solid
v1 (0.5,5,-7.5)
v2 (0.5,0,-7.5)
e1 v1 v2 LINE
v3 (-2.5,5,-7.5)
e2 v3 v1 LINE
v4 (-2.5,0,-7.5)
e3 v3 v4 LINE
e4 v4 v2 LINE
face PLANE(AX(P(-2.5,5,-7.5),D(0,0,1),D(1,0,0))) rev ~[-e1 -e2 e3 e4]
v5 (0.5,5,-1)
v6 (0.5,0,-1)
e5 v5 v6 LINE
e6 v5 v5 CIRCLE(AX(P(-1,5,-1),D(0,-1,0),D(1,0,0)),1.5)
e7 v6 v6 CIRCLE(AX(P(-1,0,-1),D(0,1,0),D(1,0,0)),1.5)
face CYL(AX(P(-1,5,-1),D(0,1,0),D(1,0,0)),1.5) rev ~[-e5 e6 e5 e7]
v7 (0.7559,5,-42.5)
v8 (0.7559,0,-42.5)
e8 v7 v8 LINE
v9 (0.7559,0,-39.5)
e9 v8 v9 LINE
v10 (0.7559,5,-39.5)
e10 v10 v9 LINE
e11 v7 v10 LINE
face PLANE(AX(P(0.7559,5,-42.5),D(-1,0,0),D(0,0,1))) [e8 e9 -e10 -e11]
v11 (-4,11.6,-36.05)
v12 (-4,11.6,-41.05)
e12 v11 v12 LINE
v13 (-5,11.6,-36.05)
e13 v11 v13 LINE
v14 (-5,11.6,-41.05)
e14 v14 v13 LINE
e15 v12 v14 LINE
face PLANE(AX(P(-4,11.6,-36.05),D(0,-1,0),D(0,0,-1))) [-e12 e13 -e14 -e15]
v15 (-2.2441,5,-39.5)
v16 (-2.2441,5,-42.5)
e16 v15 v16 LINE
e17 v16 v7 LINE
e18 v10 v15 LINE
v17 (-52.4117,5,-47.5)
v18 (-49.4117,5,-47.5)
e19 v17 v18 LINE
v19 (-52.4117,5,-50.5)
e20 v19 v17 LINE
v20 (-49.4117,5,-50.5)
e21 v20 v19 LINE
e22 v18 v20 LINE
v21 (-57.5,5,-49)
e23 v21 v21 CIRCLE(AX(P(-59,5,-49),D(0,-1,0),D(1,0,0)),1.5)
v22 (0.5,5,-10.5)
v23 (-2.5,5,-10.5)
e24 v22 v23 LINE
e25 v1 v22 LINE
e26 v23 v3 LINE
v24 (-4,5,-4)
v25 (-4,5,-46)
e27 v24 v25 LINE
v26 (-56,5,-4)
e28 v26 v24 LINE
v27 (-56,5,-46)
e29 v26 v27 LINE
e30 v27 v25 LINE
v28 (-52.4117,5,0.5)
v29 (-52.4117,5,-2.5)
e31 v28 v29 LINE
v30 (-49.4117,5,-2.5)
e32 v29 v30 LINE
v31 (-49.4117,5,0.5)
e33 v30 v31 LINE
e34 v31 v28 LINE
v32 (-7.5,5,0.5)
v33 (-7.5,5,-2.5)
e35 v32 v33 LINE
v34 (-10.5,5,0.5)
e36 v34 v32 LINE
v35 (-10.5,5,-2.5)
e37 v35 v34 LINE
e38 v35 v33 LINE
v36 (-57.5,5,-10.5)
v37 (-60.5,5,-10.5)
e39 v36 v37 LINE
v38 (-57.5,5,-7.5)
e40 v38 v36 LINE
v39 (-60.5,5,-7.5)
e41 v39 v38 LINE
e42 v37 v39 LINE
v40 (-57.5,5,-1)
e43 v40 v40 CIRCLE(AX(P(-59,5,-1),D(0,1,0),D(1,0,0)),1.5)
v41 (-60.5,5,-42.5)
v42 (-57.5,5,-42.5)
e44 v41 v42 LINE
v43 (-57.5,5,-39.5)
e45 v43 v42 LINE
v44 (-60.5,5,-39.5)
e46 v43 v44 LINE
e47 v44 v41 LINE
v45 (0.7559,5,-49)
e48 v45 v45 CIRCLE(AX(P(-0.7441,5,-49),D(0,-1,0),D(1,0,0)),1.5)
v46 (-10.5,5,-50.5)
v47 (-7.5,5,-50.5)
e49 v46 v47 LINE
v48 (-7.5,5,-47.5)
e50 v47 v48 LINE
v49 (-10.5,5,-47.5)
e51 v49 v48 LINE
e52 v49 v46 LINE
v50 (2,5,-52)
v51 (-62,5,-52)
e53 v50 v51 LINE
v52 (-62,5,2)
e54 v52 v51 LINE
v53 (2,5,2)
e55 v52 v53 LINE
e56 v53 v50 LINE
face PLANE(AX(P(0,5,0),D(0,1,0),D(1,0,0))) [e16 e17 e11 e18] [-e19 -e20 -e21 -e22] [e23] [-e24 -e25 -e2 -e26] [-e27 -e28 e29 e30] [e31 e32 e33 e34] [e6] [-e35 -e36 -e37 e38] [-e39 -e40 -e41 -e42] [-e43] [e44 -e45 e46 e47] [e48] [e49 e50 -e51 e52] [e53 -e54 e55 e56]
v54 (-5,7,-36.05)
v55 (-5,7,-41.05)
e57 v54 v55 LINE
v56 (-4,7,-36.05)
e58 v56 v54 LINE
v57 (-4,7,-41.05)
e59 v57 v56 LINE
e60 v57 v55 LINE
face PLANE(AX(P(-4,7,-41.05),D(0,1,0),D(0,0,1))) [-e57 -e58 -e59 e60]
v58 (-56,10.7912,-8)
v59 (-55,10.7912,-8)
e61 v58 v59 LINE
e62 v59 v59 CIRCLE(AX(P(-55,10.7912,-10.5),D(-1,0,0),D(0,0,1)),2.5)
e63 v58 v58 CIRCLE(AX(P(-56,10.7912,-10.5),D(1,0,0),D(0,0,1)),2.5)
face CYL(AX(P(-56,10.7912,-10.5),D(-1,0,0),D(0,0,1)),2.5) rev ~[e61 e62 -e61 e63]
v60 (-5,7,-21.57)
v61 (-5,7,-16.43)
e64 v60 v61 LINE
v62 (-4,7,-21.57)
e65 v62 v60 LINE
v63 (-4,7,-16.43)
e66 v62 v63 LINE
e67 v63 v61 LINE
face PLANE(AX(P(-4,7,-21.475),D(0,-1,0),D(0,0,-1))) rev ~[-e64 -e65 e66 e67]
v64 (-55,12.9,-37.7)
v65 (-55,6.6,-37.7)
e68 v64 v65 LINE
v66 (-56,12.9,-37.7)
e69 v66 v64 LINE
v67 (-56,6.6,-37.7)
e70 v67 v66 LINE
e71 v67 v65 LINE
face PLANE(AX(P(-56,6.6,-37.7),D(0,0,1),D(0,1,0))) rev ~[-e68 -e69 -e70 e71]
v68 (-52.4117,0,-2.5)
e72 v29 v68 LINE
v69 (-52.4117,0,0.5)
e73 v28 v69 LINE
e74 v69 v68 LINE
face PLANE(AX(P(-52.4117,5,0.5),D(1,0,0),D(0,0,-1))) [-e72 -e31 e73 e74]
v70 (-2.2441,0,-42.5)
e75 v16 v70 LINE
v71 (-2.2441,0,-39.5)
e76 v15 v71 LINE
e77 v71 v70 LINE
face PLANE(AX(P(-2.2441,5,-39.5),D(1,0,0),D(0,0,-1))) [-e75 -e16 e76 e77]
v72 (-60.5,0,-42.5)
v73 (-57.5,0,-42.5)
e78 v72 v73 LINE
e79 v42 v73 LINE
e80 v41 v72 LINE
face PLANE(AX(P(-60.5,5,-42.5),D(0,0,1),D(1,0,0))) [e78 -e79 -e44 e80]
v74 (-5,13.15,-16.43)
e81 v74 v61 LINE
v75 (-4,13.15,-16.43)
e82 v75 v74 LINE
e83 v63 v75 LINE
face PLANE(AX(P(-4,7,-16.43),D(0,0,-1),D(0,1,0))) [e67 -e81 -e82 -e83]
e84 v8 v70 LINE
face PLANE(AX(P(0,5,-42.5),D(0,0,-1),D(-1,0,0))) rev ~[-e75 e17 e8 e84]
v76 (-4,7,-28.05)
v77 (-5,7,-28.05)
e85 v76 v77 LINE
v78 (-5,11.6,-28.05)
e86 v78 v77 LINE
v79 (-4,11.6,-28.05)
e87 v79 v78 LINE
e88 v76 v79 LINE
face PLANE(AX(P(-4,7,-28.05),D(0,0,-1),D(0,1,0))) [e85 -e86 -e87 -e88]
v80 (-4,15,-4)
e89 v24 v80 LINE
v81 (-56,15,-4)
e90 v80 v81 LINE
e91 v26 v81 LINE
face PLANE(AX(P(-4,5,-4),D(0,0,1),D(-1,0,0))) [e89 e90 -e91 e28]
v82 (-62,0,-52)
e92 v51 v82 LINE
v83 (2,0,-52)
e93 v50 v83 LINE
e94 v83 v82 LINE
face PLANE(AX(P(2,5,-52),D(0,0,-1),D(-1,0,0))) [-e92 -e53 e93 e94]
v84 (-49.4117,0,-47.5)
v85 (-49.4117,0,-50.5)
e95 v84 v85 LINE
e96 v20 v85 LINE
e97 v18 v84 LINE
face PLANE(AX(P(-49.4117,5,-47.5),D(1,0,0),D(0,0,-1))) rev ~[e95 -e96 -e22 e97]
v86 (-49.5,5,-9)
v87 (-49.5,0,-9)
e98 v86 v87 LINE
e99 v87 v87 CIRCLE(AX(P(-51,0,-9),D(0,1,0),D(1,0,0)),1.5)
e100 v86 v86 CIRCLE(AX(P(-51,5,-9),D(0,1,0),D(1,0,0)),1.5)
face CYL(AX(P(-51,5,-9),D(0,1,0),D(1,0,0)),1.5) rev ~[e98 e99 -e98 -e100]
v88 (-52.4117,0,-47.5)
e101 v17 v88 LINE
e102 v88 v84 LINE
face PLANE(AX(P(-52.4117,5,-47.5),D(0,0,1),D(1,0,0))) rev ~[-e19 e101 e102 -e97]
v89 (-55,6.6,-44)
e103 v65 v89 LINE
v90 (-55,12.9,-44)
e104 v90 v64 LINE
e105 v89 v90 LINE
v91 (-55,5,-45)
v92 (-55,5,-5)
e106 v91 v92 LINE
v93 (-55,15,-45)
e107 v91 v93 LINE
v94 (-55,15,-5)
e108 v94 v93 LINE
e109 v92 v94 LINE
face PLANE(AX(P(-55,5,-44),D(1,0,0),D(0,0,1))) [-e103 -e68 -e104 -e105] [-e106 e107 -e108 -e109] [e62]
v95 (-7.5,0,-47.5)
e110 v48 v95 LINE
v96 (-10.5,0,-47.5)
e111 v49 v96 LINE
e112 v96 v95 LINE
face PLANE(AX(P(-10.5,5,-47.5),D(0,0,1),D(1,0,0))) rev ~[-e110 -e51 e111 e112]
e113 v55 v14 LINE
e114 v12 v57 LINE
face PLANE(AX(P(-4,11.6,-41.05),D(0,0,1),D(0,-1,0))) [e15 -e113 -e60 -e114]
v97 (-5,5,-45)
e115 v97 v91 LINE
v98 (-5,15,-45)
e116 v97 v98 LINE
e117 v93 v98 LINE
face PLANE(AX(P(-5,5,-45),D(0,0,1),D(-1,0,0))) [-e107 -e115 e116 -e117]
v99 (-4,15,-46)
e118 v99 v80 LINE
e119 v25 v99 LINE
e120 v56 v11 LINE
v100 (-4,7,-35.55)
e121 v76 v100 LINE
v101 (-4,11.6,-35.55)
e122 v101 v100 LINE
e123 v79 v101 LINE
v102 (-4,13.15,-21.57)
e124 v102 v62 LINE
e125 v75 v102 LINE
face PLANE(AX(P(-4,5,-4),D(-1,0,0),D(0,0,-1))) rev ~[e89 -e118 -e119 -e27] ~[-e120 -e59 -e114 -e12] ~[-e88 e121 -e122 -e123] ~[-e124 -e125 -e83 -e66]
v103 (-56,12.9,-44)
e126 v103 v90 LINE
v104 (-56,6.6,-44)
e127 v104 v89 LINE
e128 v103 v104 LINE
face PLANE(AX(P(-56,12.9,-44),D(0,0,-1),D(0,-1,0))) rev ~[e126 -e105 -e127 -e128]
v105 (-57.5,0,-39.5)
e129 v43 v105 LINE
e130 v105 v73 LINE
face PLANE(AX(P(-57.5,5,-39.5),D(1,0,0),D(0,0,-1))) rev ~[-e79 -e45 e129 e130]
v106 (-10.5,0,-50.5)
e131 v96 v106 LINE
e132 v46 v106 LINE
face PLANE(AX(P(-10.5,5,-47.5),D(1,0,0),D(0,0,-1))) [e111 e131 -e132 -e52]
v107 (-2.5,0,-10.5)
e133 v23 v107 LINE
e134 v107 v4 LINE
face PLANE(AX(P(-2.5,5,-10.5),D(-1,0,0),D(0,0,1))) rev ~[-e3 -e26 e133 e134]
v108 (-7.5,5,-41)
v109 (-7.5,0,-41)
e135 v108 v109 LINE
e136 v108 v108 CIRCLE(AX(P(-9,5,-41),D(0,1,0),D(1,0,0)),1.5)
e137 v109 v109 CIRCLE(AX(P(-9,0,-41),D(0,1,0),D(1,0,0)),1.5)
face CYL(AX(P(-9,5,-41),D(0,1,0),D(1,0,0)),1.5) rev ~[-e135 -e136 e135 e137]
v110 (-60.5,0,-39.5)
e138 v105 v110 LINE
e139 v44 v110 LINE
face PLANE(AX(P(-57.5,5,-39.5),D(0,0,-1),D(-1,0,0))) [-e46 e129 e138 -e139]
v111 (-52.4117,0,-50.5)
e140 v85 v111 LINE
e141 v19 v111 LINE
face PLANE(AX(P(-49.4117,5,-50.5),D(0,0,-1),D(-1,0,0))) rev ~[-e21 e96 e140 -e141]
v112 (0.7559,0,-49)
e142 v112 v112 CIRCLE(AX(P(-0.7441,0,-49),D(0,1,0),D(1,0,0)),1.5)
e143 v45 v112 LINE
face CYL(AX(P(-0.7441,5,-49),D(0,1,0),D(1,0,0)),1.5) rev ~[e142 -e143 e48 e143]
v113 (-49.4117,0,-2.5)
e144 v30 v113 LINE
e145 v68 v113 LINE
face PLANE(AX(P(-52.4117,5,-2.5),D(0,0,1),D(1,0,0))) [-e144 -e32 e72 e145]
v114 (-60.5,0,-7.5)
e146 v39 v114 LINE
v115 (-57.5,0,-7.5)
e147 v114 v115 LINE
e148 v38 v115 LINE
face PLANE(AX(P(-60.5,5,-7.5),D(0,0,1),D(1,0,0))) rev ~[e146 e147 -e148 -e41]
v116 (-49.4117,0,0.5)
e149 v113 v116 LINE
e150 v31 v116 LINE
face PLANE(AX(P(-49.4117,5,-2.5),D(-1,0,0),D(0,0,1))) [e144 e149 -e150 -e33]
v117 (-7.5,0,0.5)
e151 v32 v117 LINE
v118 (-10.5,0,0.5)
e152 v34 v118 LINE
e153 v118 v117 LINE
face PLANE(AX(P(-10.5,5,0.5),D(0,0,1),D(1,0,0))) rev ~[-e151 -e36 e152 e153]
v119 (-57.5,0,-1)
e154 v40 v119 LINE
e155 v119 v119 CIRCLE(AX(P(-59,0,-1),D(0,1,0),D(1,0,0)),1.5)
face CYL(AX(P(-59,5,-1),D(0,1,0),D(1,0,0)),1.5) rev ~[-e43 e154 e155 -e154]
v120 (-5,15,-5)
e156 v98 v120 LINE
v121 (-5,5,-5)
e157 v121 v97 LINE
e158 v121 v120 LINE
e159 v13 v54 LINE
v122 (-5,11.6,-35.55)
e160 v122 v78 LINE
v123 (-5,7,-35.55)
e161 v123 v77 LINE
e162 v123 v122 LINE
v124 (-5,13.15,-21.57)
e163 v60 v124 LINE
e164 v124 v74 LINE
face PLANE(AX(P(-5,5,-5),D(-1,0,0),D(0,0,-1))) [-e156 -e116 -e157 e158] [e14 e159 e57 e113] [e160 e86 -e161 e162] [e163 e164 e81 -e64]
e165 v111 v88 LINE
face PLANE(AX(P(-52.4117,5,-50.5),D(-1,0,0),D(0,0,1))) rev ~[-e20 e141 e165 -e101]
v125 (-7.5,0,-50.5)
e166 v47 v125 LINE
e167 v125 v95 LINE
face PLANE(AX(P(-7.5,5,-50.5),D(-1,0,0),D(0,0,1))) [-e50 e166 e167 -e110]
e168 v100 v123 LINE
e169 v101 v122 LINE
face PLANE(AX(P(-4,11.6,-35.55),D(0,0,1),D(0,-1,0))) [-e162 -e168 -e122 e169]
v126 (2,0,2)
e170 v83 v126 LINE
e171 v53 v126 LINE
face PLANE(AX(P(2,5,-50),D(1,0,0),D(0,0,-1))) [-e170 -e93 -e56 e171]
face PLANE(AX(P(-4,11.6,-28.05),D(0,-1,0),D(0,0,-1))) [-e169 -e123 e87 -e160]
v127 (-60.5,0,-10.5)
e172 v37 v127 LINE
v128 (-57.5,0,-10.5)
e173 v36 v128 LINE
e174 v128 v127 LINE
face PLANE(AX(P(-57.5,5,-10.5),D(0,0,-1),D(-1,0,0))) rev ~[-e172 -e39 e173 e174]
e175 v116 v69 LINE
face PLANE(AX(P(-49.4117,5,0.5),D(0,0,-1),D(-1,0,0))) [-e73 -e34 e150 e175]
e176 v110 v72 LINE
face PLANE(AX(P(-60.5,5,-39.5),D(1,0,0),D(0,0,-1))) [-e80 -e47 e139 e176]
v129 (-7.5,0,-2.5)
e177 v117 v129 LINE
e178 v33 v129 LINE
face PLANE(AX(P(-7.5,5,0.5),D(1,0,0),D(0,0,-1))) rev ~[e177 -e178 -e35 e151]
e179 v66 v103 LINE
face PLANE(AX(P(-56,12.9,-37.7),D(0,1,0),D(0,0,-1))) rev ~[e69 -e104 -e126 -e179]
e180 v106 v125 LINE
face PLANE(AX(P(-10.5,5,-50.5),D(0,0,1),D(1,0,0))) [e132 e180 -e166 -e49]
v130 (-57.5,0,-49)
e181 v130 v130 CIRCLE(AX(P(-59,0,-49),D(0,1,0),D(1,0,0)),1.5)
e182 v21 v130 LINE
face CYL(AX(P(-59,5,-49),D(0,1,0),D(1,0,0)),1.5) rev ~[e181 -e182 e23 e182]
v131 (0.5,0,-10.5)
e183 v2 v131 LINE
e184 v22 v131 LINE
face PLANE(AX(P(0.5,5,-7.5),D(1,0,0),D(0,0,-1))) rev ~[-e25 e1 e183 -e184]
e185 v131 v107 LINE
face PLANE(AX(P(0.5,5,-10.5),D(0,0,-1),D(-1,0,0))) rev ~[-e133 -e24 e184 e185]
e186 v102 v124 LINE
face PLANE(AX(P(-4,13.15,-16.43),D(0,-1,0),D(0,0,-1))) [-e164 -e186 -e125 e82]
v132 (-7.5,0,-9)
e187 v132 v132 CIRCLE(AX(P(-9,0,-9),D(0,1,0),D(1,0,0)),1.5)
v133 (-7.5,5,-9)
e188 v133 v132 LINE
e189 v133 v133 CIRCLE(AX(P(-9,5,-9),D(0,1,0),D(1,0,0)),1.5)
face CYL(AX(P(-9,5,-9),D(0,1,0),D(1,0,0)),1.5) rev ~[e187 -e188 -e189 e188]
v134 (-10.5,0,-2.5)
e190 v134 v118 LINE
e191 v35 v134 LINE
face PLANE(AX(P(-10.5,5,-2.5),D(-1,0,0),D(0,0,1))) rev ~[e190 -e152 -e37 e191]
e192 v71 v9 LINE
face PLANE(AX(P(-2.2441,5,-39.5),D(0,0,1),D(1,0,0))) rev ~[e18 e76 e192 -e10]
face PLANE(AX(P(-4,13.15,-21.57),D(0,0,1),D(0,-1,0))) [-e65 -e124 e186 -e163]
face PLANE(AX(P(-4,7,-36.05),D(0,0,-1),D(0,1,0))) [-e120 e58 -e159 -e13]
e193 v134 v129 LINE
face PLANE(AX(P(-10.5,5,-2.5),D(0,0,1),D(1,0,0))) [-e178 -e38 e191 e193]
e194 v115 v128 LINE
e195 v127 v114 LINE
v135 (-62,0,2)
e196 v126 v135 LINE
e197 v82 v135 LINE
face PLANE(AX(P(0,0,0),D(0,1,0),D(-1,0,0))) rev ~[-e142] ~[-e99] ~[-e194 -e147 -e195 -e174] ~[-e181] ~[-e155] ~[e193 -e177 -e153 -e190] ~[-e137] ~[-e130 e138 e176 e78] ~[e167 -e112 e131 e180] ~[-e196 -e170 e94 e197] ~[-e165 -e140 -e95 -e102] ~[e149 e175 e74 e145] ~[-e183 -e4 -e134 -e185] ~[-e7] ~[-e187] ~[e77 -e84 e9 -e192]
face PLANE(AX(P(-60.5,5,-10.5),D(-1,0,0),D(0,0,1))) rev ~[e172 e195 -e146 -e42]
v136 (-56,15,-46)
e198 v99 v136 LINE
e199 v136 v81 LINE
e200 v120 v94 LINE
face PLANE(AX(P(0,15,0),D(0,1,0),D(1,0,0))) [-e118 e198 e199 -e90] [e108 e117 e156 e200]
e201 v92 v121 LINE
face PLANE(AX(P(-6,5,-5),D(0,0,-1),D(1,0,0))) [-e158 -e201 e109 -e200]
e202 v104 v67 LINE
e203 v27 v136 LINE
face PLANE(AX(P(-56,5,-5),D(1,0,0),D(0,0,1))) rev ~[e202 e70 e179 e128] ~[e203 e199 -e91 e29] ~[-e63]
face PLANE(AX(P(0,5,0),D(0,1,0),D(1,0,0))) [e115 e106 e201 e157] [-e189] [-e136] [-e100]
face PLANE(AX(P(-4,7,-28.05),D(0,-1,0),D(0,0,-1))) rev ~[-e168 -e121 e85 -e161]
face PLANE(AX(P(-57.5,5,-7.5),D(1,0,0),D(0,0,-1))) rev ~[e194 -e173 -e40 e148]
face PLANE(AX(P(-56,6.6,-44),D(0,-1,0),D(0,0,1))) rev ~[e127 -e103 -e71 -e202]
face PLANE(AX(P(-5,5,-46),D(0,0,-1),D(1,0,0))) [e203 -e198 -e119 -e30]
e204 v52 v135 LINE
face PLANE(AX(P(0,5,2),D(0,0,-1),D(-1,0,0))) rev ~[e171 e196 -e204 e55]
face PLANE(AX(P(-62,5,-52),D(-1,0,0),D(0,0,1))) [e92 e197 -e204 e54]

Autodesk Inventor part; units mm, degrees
ref_plane "YZ Plane" through (0, 0, 0) normal (1, 0, 0) x (0, 1, 0)
ref_plane "XZ Plane" through (0, 0, 0) normal (0, 1, 0) x (-1, 0, 0)
ref_plane "XY Plane" through (0, 0, 0) normal (0, 0, 1) x (1, 0, 0)
sketch "Sketch1" plane through (0, 0, 0) normal (0, 1, 0) x (-1, 0, 0)
  line L0 (0, 0) -> (60, 0)
  line L1 (60, 0) -> (60, -50)
  line L2 (60, -50) -> (0, -50)
  line L3 (0, -50) -> (0, 0)
  line L4 (60, 0) -> (0, 0)
  line L5 (0, 0) -> (0, -5)
  line L6 (0, -5) -> (60, -5)
  line L7 (60, -5) -> (60, 0)
  line L8 (60, 0) -> (55, 0)
  line L9 (55, 0) -> (55, -50)
  line L10 (55, -50) -> (60, -50)
  line L11 (60, -50) -> (60, 0)
  line L12 (60, -50) -> (0, -50)
  line L13 (0, -50) -> (0, -45)
  line L14 (0, -45) -> (60, -45)
  line L15 (60, -45) -> (60, -50)
  line L16 (0, -50) -> (5, -50)
  line L17 (5, -50) -> (5, 0)
  line L18 (5, 0) -> (0, 0)
  line L19 (0, 0) -> (0, -50)
  line L20 (5, -5) -> (55, -5)
  line L21 (55, -5) -> (55, -45)
  line L22 (55, -45) -> (5, -45)
  line L23 (5, -45) -> (5, -5)
  dimension "d0" = 60
  dimension "d1" = 50
  dimension "d2" = 5
  dimension "d3" = 5
  dimension "d4" = 5
  dimension "d5" = 5
  dimension "d6" = 40
  dimension "d7" = 50
extrude "Extrusion1" add sketch "Sketch1" along normal blind 5
sketch "Sketch2" plane through (0, 5, 0) normal (0, 1, 0) x (1, 0, 0)
  line L0 (-60, 50) -> (-60, 0) projected
  line L1 (0, 50) -> (-60, 50) projected
  line L2 (-60, 0) -> (0, 0)
  line L3 (0, 0) -> (0, 50)
  line L4 (0, 50) -> (-60, 50)
  line L5 (-60, 50) -> (-60, 0)
  line L6 (0, 0) -> (0, 50) projected
  line L7 (-60, 0) -> (0, 0)
  line L8 (0, 0) -> (0, 5)
  line L9 (0, 5) -> (-60, 5)
  line L10 (-60, 5) -> (-60, 0)
  line L11 (0, 50) -> (-60, 50)
  line L12 (-60, 50) -> (-60, 45)
  line L13 (-60, 45) -> (0, 45)
  line L14 (0, 45) -> (0, 50)
  line L15 (-60, 0) -> (0, 0) projected
  line L16 (-60, 50) -> (-55, 50)
  line L17 (-55, 50) -> (-55, 0)
  line L18 (-55, 0) -> (-60, 0)
  line L19 (-60, 0) -> (-60, 50)
  line L20 (0, 0) -> (-5, 0)
  line L21 (-5, 0) -> (-5, 50)
  line L22 (-5, 50) -> (0, 50)
  line L23 (0, 50) -> (0, 0)
  line L24 (-55, 5) -> (-56.5, 5)
  line L25 (-56.5, 5) -> (-56.5, 3.5)
  line L26 (-56.5, 3.5) -> (-55, 3.5)
  line L27 (-55, 3.5) -> (-55, 5)
  line L28 (-60, 0) -> (-62, 0)
  line L29 (-62, 0) -> (-62, 50)
  line L30 (-62, 50) -> (-60, 50)
  line L31 (-60, 50) -> (-60, 0)
  line L32 (-62, 0) -> (0, 0)
  line L33 (0, 0) -> (0, -2)
  line L34 (0, -2) -> (-62, -2)
  line L35 (-62, -2) -> (-62, 0)
  line L36 (-62, 50) -> (2, 50)
  line L37 (2, 50) -> (2, 52)
  line L38 (2, 52) -> (-62, 52)
  line L39 (-62, 52) -> (-62, 50)
  line L40 (2, 50) -> (0, 50)
  line L41 (0, 50) -> (0, -2)
  line L42 (0, -2) -> (2, -2)
  line L43 (2, -2) -> (2, 50)
  dimension "d10" = 5
  dimension "d11" = 5
  dimension "d12" = 5
  dimension "d13" = 5
  dimension "d14" = 1.5
  dimension "d15" = 1.5
  dimension "d16" = 2
  dimension "d17" = 2
  dimension "d18" = 64
  dimension "d19" = 2
extrude "Extrusion2" add sketch "Sketch2" against normal blind 5 contours L30 L39 L38 L37 L36 L1 | L0 L28 L29 L30 | L28 L2 L33 L34 L35 | L36 L43 L42 L33 L3
sketch "Sketch3" plane through (0, 5, 0) normal (0, 1, 0) x (1, 0, 0)
  line L0 (2, -2) -> (-62, -2) projected
  line L1 (2, 52) -> (2, -2) projected
  line L2 (-62, -2) -> (2, -2)
  line L3 (2, -2) -> (2, 52)
  line L4 (2, 52) -> (-62, 52)
  line L5 (-62, 52) -> (-62, -2)
  line L6 (-62, -2) -> (2, -2)
  line L7 (2, -2) -> (2, 4)
  line L8 (2, 4) -> (-62, 4)
  line L9 (-62, 4) -> (-62, -2)
  line L10 (2, 52) -> (-62, 52)
  line L11 (-62, 52) -> (-62, 46)
  line L12 (-62, 46) -> (2, 46)
  line L13 (2, 46) -> (2, 52)
  line L14 (-62, -2) -> (-62, 52) projected
  line L15 (-62, 52) -> (-56, 52)
  line L16 (-56, 52) -> (-56, -2)
  line L17 (-56, -2) -> (-62, -2)
  line L18 (-62, -2) -> (-62, 52)
  line L19 (-62, 52) -> (2, 52) projected
  line L20 (2, -2) -> (-4, -2)
  line L21 (-4, -2) -> (-4, 52)
  line L22 (-4, 52) -> (2, 52)
  line L23 (2, 52) -> (2, -2)
  line L24 (-4, 46) -> (-54, 46)
  line L25 (-54, 46) -> (-54, 6)
  line L26 (-54, 6) -> (-4, 6)
  line L27 (-4, 6) -> (-4, 46)
  line L28 (-56, 4) -> (-6, 4)
  line L29 (-6, 4) -> (-6, 44)
  line L30 (-6, 44) -> (-56, 44)
  line L31 (-56, 44) -> (-56, 4)
  line L32 (-56, 4) -> (-5, 4)
  line L33 (-5, 4) -> (-5, 45)
  line L34 (-5, 45) -> (-56, 45)
  line L35 (-56, 45) -> (-56, 4)
  line L36 (-4, 46) -> (-55, 46)
  line L37 (-55, 46) -> (-55, 5)
  line L38 (-55, 5) -> (-4, 5)
  line L39 (-4, 5) -> (-4, 46)
  line L40 (-4, 5) -> (-56, 5)
  line L41 (-56, 5) -> (-56, 4)
  line L42 (-56, 4) -> (-4, 4)
  line L43 (-4, 4) -> (-4, 5)
  line L44 (-56, 4) -> (-55, 4)
  line L45 (-55, 4) -> (-55, 46)
  line L46 (-55, 46) -> (-56, 46)
  line L47 (-56, 46) -> (-56, 4)
  line L48 (-56, 45) -> (-4, 45)
  line L49 (-4, 45) -> (-4, 46)
  line L50 (-4, 46) -> (-56, 46)
  line L51 (-56, 46) -> (-56, 45)
  line L52 (-4, 46) -> (-5, 46)
  line L53 (-5, 46) -> (-5, 4)
  line L54 (-5, 4) -> (-4, 4)
  line L55 (-4, 4) -> (-4, 46)
  point P0 (0, 0)
  point P1 (-4, 4)
  point P2 (-55, 45)
  point P3 (-5, 5)
  point P4 (-55, 5)
  dimension "d22" = 6
  dimension "d23" = 6
  dimension "d24" = 6
  dimension "d25" = 6
  dimension "d26" = 50
  dimension "d27" = 40
  dimension "d28" = 50
  dimension "d29" = 40
  dimension "d30" = 51
  dimension "d31" = 41
  dimension "d32" = 51
  dimension "d33" = 41
  dimension "d34" = 40
  dimension "d35" = 50
extrude "Extrusion3" add sketch "Sketch3" along normal blind 10 contours L8 L33 L38 L21 | L16 L40 L45 L8 | L8 L29 L38 L33 | L38 L33 L26 L21 | L21 L48 L53 L12 | L45 L38 L29 L8 | L16 L30 L37 L40 | L26 L33 L48 L21 | L53 L34 L25 L12 | L16 L34 L37 L30 | L25 L34 L37 L12 | L12 L37 L34 L16
sketch "Sketch5" plane through (0, 5, 0) normal (0, 1, 0) x (1, 0, 0)
  line L0 (-55, 5) -> (-55, 45) projected
  line L1 (-55, 45) -> (-5, 45) projected
  line L2 (-55, 5) -> (-5, 5)
  line L3 (-5, 5) -> (-5, 45)
  line L4 (-5, 45) -> (-55, 45)
  line L5 (-55, 45) -> (-55, 5)
  line L6 (-55, 5) -> (-51, 5)
  line L7 (-55, 9) -> (-55, 5)
  circle A0 centre (-51, 9) radius 1.5
  line L8 (-5, 45) -> (-5, 5) projected
  line L9 (-5, 5) -> (-9, 5)
  line L10 (-5, 9) -> (-5, 5)
  line L11 (-5, 45) -> (-9, 45)
  line L12 (-5, 41) -> (-5, 45)
  line L13 (-55, 45) -> (-51, 45)
  line L14 (-55, 41) -> (-55, 45)
  circle A1 centre (-9, 41) radius 1.5
  circle A2 centre (-9, 9) radius 1.5
  point P0 (0, 0)
extrude "Extrusion4" cut sketch "Sketch5" against normal blind 10 contours A0 | A1 | A2
sketch "Sketch6" plane through (-4, 5, -4) normal (1, 0, 0) x (0, 0, -1)
  line L0 (0, 10) -> (1, 10)
  line L1 (1, 10) -> (1, 0)
  line L2 (1, 0) -> (0, 0)
  line L3 (0, 0) -> (0, 10)
  line L4 (41, 10) -> (42, 10)
  line L5 (42, 10) -> (42, 0)
  line L6 (42, 0) -> (41, 0)
  line L7 (41, 0) -> (41, 10)
  line L8 (1, 0) -> (6, 0)
  line L9 (6, 0) -> (6, 2)
  line L10 (1, 2) -> (1, 0)
  line L11 (6, 2) -> (24, 2)
  line L12 (24, 2) -> (24, 0)
  line L13 (24, 0) -> (6, 0)
  line L14 (6, 0) -> (6, 2)
  line L15 (1, 0) -> (41, 0) projected
  line L16 (6, 2) -> (11.05, 2)
  line L17 (11.05, 0) -> (6, 0)
  line L18 (6, 0) -> (6, 2)
  line L19 (24, 0) -> (18.95, 0)
  line L20 (18.95, 2) -> (24, 2)
  line L21 (24, 2) -> (24, 0)
  line L22 (6, 2) -> (15, 2)
  line L23 (15, 2) -> (15, 0)
  line L24 (15, 0) -> (6, 0)
  line L25 (6, 0) -> (6, 2)
  line L26 (24, 0) -> (15, 0)
  line L27 (15, 0) -> (15, 2)
  line L28 (15, 2) -> (24, 2)
  line L29 (24, 2) -> (24, 0)
  line L30 (15, 2) -> (12.525, 2)
  line L31 (12.525, 2) -> (12.525, 0)
  line L32 (12.525, 0) -> (15, 0)
  line L33 (15, 0) -> (15, 2)
  line L34 (15, 2) -> (17.475, 2)
  line L35 (17.475, 2) -> (17.475, 0)
  line L36 (17.475, 0) -> (15, 0)
  line L37 (15, 0) -> (15, 2)
  line L38 (24, 0) -> (24.05, 0)
  line L39 (24.05, 0) -> (24.05, 2)
  line L40 (24, 2) -> (24, 0)
  line L41 (24.05, 2) -> (31.55, 2)
  line L42 (31.55, 2) -> (31.55, 0)
  line L43 (31.55, 0) -> (24.05, 0)
  line L44 (24.05, 0) -> (24.05, 2)
  line L45 (32.05, 2) -> (32.05, 0)
  line L46 (32.05, 0) -> (31.55, 0)
  line L47 (31.55, 0) -> (31.55, 2)
  line L48 (32.05, 0) -> (37.05, 0)
  line L49 (37.05, 0) -> (37.05, 2)
  line L50 (37.05, 2) -> (32.05, 2)
  line L51 (32.05, 2) -> (32.05, 0)
  line L52 (1, 0) -> (1, 10) projected
  line L53 (41, 0) -> (1, 0)
  line L54 (1, 0) -> (1, 1.6)
  line L55 (1, 1.6) -> (41, 1.6)
  line L56 (41, 1.6) -> (41, 0)
  line L57 (37.05, 2) -> (32.05, 2)
  line L58 (32.05, 2) -> (32.05, 1.6)
  line L59 (32.05, 1.6) -> (37.05, 1.6)
  line L60 (37.05, 1.6) -> (37.05, 2)
  line L61 (37.05, 2) -> (32.05, 2)
  line L62 (32.05, 2) -> (32.05, 1.6)
  line L63 (32.05, 1.6) -> (37.05, 1.6)
  line L64 (37.05, 1.6) -> (37.05, 2)
  line L65 (37.05, 1.6) -> (32.05, 1.6)
  line L66 (32.05, 1.6) -> (32.05, 6.6)
  line L67 (32.05, 6.6) -> (37.05, 6.6)
  line L68 (37.05, 6.6) -> (37.05, 1.6)
  line L69 (17.475, 2) -> (12.525, 2)
  line L70 (12.525, 2) -> (12.525, 1.6)
  line L71 (12.525, 1.6) -> (17.475, 1.6)
  line L72 (17.475, 1.6) -> (17.475, 2)
  line L73 (15, 1.6) -> (17.57, 1.6)
  line L74 (17.57, 1.6) -> (17.57, 2)
  line L75 (17.57, 2) -> (15, 2)
  line L76 (15, 2) -> (15, 1.6)
  line L77 (15, 1.6) -> (12.43, 1.6)
  line L78 (12.43, 1.6) -> (12.43, 2)
  line L79 (12.43, 2) -> (15, 2)
  line L80 (15, 2) -> (15, 1.6)
  line L81 (17.57, 1.6) -> (12.43, 1.6)
  line L82 (12.43, 1.6) -> (12.43, 8.15)
  line L83 (12.43, 8.15) -> (17.57, 8.15)
  line L84 (17.57, 8.15) -> (17.57, 1.6)
  line L85 (31.55, 1.6) -> (24.05, 1.6)
  line L86 (24.05, 1.6) -> (24.05, 6.6)
  line L87 (24.05, 6.6) -> (31.55, 6.6)
  line L88 (31.55, 6.6) -> (31.55, 1.6)
  point P0 (-4, -5)
  point P1 (32.05, 2)
  point P2 (37.05, 2)
  point P3 (24.05, 2)
  point P4 (31.55, 2)
  point P5 (12.43, 2)
  point P6 (17.57, 2)
  dimension "d48" = 5.05
  dimension "d53" = 7.5
  dimension "d54" = 0.5
  dimension "d55" = 5
  dimension "d58" = 1.6
  dimension "d59" = 5
  dimension "d60" = 5
  dimension "d61" = 2.57
  dimension "d62" = 2.57
  dimension "d63" = 6.55
  dimension "d64" = 7.5
sketch "Sketch7" plane through (0, 5, 0) normal (0, 1, 0) x (1, 0, 0)
  point P0 (0, 0)
sketch "Sketch8" plane through (0, 5, 0) normal (0, 1, 0) x (1, 0, 0)
  line L0 (-55, 5) -> (-5, 5) projected
  line L1 (-5, 45) -> (-55, 45) projected
  line L2 (-5, 5) -> (-55, 5)
  line L3 (-55, 5) -> (-55, 45)
  line L4 (-55, 45) -> (-5, 45)
  line L5 (-5, 45) -> (-5, 5)
  circle A0 centre (-51, 9) radius 1.5
  circle A1 centre (-9, 9) radius 1.5
  circle A2 centre (-9, 41) radius 1.5 projected
  circle A3 centre (-9, 41) radius 1.5
  point P0 (0, 0)
sketch "Sketch9" plane through (-4, 5, -4) normal (1, 0, 0) x (0, 0, -1)
  point P0 (-4, -5)
extrude "Extrusion6" cut sketch "Sketch6" against normal blind 10 contours L82 L83 L84 L11 | L86 L87 L88 L41 | L66 L67 L68 L50
sketch "Sketch10" plane through (-56, 5, -46) normal (-1, 0, 0) x (0, 0, 1)
  point P0 (46, -5)
  point P1 (0, 10)
  point P2 (42, 0)
  point P3 (41, 10)
sketch "Sketch11" plane through (-56, 5, -46) normal (-1, 0, 0) x (0, 0, 1)
  line L0 (2, 1.6) -> (8.3, 1.6)
  line L1 (8.3, 1.6) -> (8.3, 7.9)
  line L2 (8.3, 7.9) -> (2, 7.9)
  line L3 (2, 7.9) -> (2, 1.6)
  point P0 (46, -5)
extrude "Extrusion7" cut sketch "Sketch11" against normal blind 10
extrude "Extrusion8" cut sketch "Sketch11" against normal blind 10
sketch "Sketch12" plane through (-56, 5, -46) normal (-1, 0, 0) x (0, 0, 1)
  line L0 (42, 0) -> (42, 10) projected
  line L1 (42, 1.5824) -> (0, 1.5824)
  line L2 (0, 1.5824) -> (0, 10)
  line L3 (0, 10) -> (42, 10)
  line L4 (42, 10) -> (42, 1.5824)
  line L5 (41, 10) -> (1, 10) projected
  line L6 (42, 1.5824) -> (35.5, 1.5824)
  line L7 (35.5, 1.5824) -> (35.5, 10)
  line L8 (35.5, 10) -> (42, 10)
  line L9 (42, 10) -> (42, 1.5824)
  circle A0 centre (35.5, 5.7912) radius 2.5
  point P0 (46, -5)
  dimension "d74" = 6.5
  dimension "d75" = 5
extrude "Extrusion9" cut sketch "Sketch12" against normal blind 10 contours A0 L7 | L7 A0
sketch "Sketch13" plane through (0, 5, 0) normal (0, 1, 0) x (1, 0, 0)
  line L0 (2, 52) -> (2, -2) projected
  line L1 (2, -2) -> (-4, -2)
  line L2 (-4, -2) -> (-4, 4)
  line L3 (-4, 4) -> (2, 4)
  line L4 (2, 4) -> (2, -2)
  line L5 (2, -2) -> (-1, -2)
  line L6 (-1, -2) -> (-1, 1)
  line L7 (-1, 1) -> (2, 1)
  line L8 (2, 1) -> (2, -2)
  circle A0 centre (-1, 1) radius 1.5
  line L9 (2, 52) -> (-4, 52)
  line L10 (-4, 52) -> (-4, 46)
  line L11 (-4, 46) -> (2, 46)
  line L12 (2, 46) -> (2, 52)
  line L13 (2.2559, 52) -> (-0.7441, 52)
  line L14 (-0.7441, 52) -> (-0.7441, 49)
  line L15 (-0.7441, 49) -> (2.2559, 49)
  line L16 (2.2559, 49) -> (2.2559, 52)
  circle A1 centre (-0.7441, 49) radius 1.5
  line L17 (-56, 4) -> (-56, 46) projected
  line L18 (-62, 52) -> (-56, 52)
  line L19 (-56, 52) -> (-56, 46)
  line L20 (-56, 46) -> (-62, 46)
  line L21 (-62, 46) -> (-62, 52)
  line L22 (2, 52) -> (-62, 52) projected
  line L23 (-62, 52) -> (-59, 52)
  line L24 (-59, 52) -> (-59, 49)
  line L25 (-59, 49) -> (-62, 49)
  line L26 (-62, 49) -> (-62, 52)
  circle A2 centre (-59, 49) radius 1.5
  circle A3 centre (-59, 1) radius 1.5
  circle A4 centre (-51, 9) radius 1.5 projected
  line L27 (-51, 10.5) -> (-60.5, 10.5)
  line L28 (-60.5, 10.5) -> (-60.5, 7.5)
  line L29 (-60.5, 7.5) -> (-51, 7.5)
  line L30 (-51, 7.5) -> (-51, 10.5)
  line L31 (-52.4117, 9) -> (-49.4117, 9)
  line L32 (-49.4117, 9) -> (-49.4117, -0.5)
  line L33 (-49.4117, -0.5) -> (-52.4117, -0.5)
  line L34 (-52.4117, -0.5) -> (-52.4117, 9)
  line L35 (-49.4117, -0.5) -> (-52.4117, -0.5)
  line L36 (-52.4117, -0.5) -> (-52.4117, 2.5)
  line L37 (-52.4117, 2.5) -> (-49.4117, 2.5)
  line L38 (-49.4117, 2.5) -> (-49.4117, -0.5)
  line L39 (-60.5, 7.5) -> (-57.5, 7.5)
  line L40 (-57.5, 7.5) -> (-57.5, 10.5)
  line L41 (-57.5, 10.5) -> (-60.5, 10.5)
  line L42 (-60.5, 10.5) -> (-60.5, 7.5)
  circle A5 centre (-9, 9) radius 1.5 projected
  line L43 (-9, 7.5) -> (0.5, 7.5)
  line L44 (0.5, 7.5) -> (0.5, 10.5)
  line L45 (0.5, 10.5) -> (-9, 10.5)
  line L46 (-9, 10.5) -> (-9, 7.5)
  line L47 (-7.5, 9) -> (-10.5, 9)
  line L48 (-10.5, 9) -> (-10.5, -0.5)
  line L49 (-10.5, -0.5) -> (-7.5, -0.5)
  line L50 (-7.5, -0.5) -> (-7.5, 9)
  circle A6 centre (-9, 41) radius 1.5 projected
  line L51 (-9, 39.5) -> (0, 39.5)
  line L52 (0, 39.5) -> (0, 42.5)
  line L53 (0, 42.5) -> (-9, 42.5)
  line L54 (-9, 42.5) -> (-9, 39.5)
  line L55 (1, 42.5) -> (-9, 42.5)
  line L56 (-9, 42.5) -> (-9, 39.5)
  line L57 (-9, 39.5) -> (1, 39.5)
  line L58 (1, 39.5) -> (1, 42.5)
  line L59 (1, 10.5) -> (-9, 10.5)
  line L60 (-9, 10.5) -> (-9, 7.5)
  line L61 (-9, 7.5) -> (1, 7.5)
  line L62 (1, 7.5) -> (1, 10.5)
  line L63 (-7.5, 41) -> (-10.5, 41)
  line L64 (-10.5, 41) -> (-10.5, 50.5)
  line L65 (-10.5, 50.5) -> (-7.5, 50.5)
  line L66 (-7.5, 50.5) -> (-7.5, 41)
  circle A7 centre (-50.9117, 41) radius 1.5
  line L67 (-50.9117, 39.5) -> (-60.5, 39.5)
  line L68 (-60.5, 39.5) -> (-60.5, 42.5)
  line L69 (-60.5, 42.5) -> (-50.9117, 42.5)
  line L70 (-50.9117, 42.5) -> (-50.9117, 39.5)
  line L71 (-52.4117, 41) -> (-49.4117, 41)
  line L72 (-49.4117, 41) -> (-49.4117, 50.5)
  line L73 (-49.4117, 50.5) -> (-52.4117, 50.5)
  line L74 (-52.4117, 50.5) -> (-52.4117, 41)
  line L75 (-60.5, 39.5) -> (-57.5, 39.5)
  line L76 (-57.5, 39.5) -> (-57.5, 42.5)
  line L77 (-57.5, 42.5) -> (-60.5, 42.5)
  line L78 (-60.5, 42.5) -> (-60.5, 39.5)
  line L79 (-49.4117, 50.5) -> (-52.4117, 50.5)
  line L80 (-52.4117, 50.5) -> (-52.4117, 47.5)
  line L81 (-52.4117, 47.5) -> (-49.4117, 47.5)
  line L82 (-49.4117, 47.5) -> (-49.4117, 50.5)
  line L83 (-7.5, 50.5) -> (-10.5, 50.5)
  line L84 (-10.5, 50.5) -> (-10.5, 47.5)
  line L85 (-10.5, 47.5) -> (-7.5, 47.5)
  line L86 (-7.5, 47.5) -> (-7.5, 50.5)
  line L87 (-2.2441, 42.5) -> (0.7559, 42.5)
  line L88 (0.7559, 42.5) -> (0.7559, 39.5)
  line L89 (0.7559, 39.5) -> (-2.2441, 39.5)
  line L90 (-2.2441, 39.5) -> (-2.2441, 42.5)
  line L91 (-2.5, 7.5) -> (0.5, 7.5)
  line L92 (0.5, 7.5) -> (0.5, 10.5)
  line L93 (0.5, 10.5) -> (-2.5, 10.5)
  line L94 (-2.5, 10.5) -> (-2.5, 7.5)
  line L95 (-7.5, -0.5) -> (-10.5, -0.5)
  line L96 (-10.5, -0.5) -> (-10.5, 2.5)
  line L97 (-10.5, 2.5) -> (-7.5, 2.5)
  line L98 (-7.5, 2.5) -> (-7.5, -0.5)
  point P0 (0, 0)
  dimension "d78" = 3
  dimension "d79" = 3
  dimension "d80" = 3
  dimension "d81" = 3
  dimension "d82" = 3
  dimension "d83" = 3
  dimension "d84" = 3
  dimension "d85" = 3
  dimension "d86" = 3
extrude "Extrusion10" cut sketch "Sketch13" against normal blind 10 contours A1 L14 L15 | L15 L14 A1 | A0 L6 L7 | L7 L6 A0 | A2 L25 L24 | L24 L25 A2 | L76 L67 L68 L69 | L74 L73 L72 L81 | L40 L29 L28 L27 | L37 L32 L33 L34 | A3 | L45 L44 L43 L94 | L50 L49 L48 L97 | L90 L53 L52 L51 | L85 L64 L65 L66 | L52 L55 L88 L57
sketch "Sketch14" plane through (0, 15, 0) normal (0, 1, 0) x (1, 0, 0)
  line L0 (-55, 45) -> (-5, 45) projected
  line L1 (-5, 5) -> (-55, 5) projected
  line L2 (-5, 45) -> (-5, 5) projected
  line L3 (-55, 5) -> (-55, 45) projected
  line L4 (-4, 4) -> (-4, 46) projected
  line L5 (-56, 46) -> (-56, 4) projected
  line L6 (-4, 46) -> (-56, 46) projected
  line L7 (-56, 4) -> (-4, 4) projected
  point P0 (0, 0)
  dimension "d89" = 40
  dimension "d90" = 50
  dimension "d91" = 52
  dimension "d92" = 42
properties part number "TNC Case" material "PET Plastic"
